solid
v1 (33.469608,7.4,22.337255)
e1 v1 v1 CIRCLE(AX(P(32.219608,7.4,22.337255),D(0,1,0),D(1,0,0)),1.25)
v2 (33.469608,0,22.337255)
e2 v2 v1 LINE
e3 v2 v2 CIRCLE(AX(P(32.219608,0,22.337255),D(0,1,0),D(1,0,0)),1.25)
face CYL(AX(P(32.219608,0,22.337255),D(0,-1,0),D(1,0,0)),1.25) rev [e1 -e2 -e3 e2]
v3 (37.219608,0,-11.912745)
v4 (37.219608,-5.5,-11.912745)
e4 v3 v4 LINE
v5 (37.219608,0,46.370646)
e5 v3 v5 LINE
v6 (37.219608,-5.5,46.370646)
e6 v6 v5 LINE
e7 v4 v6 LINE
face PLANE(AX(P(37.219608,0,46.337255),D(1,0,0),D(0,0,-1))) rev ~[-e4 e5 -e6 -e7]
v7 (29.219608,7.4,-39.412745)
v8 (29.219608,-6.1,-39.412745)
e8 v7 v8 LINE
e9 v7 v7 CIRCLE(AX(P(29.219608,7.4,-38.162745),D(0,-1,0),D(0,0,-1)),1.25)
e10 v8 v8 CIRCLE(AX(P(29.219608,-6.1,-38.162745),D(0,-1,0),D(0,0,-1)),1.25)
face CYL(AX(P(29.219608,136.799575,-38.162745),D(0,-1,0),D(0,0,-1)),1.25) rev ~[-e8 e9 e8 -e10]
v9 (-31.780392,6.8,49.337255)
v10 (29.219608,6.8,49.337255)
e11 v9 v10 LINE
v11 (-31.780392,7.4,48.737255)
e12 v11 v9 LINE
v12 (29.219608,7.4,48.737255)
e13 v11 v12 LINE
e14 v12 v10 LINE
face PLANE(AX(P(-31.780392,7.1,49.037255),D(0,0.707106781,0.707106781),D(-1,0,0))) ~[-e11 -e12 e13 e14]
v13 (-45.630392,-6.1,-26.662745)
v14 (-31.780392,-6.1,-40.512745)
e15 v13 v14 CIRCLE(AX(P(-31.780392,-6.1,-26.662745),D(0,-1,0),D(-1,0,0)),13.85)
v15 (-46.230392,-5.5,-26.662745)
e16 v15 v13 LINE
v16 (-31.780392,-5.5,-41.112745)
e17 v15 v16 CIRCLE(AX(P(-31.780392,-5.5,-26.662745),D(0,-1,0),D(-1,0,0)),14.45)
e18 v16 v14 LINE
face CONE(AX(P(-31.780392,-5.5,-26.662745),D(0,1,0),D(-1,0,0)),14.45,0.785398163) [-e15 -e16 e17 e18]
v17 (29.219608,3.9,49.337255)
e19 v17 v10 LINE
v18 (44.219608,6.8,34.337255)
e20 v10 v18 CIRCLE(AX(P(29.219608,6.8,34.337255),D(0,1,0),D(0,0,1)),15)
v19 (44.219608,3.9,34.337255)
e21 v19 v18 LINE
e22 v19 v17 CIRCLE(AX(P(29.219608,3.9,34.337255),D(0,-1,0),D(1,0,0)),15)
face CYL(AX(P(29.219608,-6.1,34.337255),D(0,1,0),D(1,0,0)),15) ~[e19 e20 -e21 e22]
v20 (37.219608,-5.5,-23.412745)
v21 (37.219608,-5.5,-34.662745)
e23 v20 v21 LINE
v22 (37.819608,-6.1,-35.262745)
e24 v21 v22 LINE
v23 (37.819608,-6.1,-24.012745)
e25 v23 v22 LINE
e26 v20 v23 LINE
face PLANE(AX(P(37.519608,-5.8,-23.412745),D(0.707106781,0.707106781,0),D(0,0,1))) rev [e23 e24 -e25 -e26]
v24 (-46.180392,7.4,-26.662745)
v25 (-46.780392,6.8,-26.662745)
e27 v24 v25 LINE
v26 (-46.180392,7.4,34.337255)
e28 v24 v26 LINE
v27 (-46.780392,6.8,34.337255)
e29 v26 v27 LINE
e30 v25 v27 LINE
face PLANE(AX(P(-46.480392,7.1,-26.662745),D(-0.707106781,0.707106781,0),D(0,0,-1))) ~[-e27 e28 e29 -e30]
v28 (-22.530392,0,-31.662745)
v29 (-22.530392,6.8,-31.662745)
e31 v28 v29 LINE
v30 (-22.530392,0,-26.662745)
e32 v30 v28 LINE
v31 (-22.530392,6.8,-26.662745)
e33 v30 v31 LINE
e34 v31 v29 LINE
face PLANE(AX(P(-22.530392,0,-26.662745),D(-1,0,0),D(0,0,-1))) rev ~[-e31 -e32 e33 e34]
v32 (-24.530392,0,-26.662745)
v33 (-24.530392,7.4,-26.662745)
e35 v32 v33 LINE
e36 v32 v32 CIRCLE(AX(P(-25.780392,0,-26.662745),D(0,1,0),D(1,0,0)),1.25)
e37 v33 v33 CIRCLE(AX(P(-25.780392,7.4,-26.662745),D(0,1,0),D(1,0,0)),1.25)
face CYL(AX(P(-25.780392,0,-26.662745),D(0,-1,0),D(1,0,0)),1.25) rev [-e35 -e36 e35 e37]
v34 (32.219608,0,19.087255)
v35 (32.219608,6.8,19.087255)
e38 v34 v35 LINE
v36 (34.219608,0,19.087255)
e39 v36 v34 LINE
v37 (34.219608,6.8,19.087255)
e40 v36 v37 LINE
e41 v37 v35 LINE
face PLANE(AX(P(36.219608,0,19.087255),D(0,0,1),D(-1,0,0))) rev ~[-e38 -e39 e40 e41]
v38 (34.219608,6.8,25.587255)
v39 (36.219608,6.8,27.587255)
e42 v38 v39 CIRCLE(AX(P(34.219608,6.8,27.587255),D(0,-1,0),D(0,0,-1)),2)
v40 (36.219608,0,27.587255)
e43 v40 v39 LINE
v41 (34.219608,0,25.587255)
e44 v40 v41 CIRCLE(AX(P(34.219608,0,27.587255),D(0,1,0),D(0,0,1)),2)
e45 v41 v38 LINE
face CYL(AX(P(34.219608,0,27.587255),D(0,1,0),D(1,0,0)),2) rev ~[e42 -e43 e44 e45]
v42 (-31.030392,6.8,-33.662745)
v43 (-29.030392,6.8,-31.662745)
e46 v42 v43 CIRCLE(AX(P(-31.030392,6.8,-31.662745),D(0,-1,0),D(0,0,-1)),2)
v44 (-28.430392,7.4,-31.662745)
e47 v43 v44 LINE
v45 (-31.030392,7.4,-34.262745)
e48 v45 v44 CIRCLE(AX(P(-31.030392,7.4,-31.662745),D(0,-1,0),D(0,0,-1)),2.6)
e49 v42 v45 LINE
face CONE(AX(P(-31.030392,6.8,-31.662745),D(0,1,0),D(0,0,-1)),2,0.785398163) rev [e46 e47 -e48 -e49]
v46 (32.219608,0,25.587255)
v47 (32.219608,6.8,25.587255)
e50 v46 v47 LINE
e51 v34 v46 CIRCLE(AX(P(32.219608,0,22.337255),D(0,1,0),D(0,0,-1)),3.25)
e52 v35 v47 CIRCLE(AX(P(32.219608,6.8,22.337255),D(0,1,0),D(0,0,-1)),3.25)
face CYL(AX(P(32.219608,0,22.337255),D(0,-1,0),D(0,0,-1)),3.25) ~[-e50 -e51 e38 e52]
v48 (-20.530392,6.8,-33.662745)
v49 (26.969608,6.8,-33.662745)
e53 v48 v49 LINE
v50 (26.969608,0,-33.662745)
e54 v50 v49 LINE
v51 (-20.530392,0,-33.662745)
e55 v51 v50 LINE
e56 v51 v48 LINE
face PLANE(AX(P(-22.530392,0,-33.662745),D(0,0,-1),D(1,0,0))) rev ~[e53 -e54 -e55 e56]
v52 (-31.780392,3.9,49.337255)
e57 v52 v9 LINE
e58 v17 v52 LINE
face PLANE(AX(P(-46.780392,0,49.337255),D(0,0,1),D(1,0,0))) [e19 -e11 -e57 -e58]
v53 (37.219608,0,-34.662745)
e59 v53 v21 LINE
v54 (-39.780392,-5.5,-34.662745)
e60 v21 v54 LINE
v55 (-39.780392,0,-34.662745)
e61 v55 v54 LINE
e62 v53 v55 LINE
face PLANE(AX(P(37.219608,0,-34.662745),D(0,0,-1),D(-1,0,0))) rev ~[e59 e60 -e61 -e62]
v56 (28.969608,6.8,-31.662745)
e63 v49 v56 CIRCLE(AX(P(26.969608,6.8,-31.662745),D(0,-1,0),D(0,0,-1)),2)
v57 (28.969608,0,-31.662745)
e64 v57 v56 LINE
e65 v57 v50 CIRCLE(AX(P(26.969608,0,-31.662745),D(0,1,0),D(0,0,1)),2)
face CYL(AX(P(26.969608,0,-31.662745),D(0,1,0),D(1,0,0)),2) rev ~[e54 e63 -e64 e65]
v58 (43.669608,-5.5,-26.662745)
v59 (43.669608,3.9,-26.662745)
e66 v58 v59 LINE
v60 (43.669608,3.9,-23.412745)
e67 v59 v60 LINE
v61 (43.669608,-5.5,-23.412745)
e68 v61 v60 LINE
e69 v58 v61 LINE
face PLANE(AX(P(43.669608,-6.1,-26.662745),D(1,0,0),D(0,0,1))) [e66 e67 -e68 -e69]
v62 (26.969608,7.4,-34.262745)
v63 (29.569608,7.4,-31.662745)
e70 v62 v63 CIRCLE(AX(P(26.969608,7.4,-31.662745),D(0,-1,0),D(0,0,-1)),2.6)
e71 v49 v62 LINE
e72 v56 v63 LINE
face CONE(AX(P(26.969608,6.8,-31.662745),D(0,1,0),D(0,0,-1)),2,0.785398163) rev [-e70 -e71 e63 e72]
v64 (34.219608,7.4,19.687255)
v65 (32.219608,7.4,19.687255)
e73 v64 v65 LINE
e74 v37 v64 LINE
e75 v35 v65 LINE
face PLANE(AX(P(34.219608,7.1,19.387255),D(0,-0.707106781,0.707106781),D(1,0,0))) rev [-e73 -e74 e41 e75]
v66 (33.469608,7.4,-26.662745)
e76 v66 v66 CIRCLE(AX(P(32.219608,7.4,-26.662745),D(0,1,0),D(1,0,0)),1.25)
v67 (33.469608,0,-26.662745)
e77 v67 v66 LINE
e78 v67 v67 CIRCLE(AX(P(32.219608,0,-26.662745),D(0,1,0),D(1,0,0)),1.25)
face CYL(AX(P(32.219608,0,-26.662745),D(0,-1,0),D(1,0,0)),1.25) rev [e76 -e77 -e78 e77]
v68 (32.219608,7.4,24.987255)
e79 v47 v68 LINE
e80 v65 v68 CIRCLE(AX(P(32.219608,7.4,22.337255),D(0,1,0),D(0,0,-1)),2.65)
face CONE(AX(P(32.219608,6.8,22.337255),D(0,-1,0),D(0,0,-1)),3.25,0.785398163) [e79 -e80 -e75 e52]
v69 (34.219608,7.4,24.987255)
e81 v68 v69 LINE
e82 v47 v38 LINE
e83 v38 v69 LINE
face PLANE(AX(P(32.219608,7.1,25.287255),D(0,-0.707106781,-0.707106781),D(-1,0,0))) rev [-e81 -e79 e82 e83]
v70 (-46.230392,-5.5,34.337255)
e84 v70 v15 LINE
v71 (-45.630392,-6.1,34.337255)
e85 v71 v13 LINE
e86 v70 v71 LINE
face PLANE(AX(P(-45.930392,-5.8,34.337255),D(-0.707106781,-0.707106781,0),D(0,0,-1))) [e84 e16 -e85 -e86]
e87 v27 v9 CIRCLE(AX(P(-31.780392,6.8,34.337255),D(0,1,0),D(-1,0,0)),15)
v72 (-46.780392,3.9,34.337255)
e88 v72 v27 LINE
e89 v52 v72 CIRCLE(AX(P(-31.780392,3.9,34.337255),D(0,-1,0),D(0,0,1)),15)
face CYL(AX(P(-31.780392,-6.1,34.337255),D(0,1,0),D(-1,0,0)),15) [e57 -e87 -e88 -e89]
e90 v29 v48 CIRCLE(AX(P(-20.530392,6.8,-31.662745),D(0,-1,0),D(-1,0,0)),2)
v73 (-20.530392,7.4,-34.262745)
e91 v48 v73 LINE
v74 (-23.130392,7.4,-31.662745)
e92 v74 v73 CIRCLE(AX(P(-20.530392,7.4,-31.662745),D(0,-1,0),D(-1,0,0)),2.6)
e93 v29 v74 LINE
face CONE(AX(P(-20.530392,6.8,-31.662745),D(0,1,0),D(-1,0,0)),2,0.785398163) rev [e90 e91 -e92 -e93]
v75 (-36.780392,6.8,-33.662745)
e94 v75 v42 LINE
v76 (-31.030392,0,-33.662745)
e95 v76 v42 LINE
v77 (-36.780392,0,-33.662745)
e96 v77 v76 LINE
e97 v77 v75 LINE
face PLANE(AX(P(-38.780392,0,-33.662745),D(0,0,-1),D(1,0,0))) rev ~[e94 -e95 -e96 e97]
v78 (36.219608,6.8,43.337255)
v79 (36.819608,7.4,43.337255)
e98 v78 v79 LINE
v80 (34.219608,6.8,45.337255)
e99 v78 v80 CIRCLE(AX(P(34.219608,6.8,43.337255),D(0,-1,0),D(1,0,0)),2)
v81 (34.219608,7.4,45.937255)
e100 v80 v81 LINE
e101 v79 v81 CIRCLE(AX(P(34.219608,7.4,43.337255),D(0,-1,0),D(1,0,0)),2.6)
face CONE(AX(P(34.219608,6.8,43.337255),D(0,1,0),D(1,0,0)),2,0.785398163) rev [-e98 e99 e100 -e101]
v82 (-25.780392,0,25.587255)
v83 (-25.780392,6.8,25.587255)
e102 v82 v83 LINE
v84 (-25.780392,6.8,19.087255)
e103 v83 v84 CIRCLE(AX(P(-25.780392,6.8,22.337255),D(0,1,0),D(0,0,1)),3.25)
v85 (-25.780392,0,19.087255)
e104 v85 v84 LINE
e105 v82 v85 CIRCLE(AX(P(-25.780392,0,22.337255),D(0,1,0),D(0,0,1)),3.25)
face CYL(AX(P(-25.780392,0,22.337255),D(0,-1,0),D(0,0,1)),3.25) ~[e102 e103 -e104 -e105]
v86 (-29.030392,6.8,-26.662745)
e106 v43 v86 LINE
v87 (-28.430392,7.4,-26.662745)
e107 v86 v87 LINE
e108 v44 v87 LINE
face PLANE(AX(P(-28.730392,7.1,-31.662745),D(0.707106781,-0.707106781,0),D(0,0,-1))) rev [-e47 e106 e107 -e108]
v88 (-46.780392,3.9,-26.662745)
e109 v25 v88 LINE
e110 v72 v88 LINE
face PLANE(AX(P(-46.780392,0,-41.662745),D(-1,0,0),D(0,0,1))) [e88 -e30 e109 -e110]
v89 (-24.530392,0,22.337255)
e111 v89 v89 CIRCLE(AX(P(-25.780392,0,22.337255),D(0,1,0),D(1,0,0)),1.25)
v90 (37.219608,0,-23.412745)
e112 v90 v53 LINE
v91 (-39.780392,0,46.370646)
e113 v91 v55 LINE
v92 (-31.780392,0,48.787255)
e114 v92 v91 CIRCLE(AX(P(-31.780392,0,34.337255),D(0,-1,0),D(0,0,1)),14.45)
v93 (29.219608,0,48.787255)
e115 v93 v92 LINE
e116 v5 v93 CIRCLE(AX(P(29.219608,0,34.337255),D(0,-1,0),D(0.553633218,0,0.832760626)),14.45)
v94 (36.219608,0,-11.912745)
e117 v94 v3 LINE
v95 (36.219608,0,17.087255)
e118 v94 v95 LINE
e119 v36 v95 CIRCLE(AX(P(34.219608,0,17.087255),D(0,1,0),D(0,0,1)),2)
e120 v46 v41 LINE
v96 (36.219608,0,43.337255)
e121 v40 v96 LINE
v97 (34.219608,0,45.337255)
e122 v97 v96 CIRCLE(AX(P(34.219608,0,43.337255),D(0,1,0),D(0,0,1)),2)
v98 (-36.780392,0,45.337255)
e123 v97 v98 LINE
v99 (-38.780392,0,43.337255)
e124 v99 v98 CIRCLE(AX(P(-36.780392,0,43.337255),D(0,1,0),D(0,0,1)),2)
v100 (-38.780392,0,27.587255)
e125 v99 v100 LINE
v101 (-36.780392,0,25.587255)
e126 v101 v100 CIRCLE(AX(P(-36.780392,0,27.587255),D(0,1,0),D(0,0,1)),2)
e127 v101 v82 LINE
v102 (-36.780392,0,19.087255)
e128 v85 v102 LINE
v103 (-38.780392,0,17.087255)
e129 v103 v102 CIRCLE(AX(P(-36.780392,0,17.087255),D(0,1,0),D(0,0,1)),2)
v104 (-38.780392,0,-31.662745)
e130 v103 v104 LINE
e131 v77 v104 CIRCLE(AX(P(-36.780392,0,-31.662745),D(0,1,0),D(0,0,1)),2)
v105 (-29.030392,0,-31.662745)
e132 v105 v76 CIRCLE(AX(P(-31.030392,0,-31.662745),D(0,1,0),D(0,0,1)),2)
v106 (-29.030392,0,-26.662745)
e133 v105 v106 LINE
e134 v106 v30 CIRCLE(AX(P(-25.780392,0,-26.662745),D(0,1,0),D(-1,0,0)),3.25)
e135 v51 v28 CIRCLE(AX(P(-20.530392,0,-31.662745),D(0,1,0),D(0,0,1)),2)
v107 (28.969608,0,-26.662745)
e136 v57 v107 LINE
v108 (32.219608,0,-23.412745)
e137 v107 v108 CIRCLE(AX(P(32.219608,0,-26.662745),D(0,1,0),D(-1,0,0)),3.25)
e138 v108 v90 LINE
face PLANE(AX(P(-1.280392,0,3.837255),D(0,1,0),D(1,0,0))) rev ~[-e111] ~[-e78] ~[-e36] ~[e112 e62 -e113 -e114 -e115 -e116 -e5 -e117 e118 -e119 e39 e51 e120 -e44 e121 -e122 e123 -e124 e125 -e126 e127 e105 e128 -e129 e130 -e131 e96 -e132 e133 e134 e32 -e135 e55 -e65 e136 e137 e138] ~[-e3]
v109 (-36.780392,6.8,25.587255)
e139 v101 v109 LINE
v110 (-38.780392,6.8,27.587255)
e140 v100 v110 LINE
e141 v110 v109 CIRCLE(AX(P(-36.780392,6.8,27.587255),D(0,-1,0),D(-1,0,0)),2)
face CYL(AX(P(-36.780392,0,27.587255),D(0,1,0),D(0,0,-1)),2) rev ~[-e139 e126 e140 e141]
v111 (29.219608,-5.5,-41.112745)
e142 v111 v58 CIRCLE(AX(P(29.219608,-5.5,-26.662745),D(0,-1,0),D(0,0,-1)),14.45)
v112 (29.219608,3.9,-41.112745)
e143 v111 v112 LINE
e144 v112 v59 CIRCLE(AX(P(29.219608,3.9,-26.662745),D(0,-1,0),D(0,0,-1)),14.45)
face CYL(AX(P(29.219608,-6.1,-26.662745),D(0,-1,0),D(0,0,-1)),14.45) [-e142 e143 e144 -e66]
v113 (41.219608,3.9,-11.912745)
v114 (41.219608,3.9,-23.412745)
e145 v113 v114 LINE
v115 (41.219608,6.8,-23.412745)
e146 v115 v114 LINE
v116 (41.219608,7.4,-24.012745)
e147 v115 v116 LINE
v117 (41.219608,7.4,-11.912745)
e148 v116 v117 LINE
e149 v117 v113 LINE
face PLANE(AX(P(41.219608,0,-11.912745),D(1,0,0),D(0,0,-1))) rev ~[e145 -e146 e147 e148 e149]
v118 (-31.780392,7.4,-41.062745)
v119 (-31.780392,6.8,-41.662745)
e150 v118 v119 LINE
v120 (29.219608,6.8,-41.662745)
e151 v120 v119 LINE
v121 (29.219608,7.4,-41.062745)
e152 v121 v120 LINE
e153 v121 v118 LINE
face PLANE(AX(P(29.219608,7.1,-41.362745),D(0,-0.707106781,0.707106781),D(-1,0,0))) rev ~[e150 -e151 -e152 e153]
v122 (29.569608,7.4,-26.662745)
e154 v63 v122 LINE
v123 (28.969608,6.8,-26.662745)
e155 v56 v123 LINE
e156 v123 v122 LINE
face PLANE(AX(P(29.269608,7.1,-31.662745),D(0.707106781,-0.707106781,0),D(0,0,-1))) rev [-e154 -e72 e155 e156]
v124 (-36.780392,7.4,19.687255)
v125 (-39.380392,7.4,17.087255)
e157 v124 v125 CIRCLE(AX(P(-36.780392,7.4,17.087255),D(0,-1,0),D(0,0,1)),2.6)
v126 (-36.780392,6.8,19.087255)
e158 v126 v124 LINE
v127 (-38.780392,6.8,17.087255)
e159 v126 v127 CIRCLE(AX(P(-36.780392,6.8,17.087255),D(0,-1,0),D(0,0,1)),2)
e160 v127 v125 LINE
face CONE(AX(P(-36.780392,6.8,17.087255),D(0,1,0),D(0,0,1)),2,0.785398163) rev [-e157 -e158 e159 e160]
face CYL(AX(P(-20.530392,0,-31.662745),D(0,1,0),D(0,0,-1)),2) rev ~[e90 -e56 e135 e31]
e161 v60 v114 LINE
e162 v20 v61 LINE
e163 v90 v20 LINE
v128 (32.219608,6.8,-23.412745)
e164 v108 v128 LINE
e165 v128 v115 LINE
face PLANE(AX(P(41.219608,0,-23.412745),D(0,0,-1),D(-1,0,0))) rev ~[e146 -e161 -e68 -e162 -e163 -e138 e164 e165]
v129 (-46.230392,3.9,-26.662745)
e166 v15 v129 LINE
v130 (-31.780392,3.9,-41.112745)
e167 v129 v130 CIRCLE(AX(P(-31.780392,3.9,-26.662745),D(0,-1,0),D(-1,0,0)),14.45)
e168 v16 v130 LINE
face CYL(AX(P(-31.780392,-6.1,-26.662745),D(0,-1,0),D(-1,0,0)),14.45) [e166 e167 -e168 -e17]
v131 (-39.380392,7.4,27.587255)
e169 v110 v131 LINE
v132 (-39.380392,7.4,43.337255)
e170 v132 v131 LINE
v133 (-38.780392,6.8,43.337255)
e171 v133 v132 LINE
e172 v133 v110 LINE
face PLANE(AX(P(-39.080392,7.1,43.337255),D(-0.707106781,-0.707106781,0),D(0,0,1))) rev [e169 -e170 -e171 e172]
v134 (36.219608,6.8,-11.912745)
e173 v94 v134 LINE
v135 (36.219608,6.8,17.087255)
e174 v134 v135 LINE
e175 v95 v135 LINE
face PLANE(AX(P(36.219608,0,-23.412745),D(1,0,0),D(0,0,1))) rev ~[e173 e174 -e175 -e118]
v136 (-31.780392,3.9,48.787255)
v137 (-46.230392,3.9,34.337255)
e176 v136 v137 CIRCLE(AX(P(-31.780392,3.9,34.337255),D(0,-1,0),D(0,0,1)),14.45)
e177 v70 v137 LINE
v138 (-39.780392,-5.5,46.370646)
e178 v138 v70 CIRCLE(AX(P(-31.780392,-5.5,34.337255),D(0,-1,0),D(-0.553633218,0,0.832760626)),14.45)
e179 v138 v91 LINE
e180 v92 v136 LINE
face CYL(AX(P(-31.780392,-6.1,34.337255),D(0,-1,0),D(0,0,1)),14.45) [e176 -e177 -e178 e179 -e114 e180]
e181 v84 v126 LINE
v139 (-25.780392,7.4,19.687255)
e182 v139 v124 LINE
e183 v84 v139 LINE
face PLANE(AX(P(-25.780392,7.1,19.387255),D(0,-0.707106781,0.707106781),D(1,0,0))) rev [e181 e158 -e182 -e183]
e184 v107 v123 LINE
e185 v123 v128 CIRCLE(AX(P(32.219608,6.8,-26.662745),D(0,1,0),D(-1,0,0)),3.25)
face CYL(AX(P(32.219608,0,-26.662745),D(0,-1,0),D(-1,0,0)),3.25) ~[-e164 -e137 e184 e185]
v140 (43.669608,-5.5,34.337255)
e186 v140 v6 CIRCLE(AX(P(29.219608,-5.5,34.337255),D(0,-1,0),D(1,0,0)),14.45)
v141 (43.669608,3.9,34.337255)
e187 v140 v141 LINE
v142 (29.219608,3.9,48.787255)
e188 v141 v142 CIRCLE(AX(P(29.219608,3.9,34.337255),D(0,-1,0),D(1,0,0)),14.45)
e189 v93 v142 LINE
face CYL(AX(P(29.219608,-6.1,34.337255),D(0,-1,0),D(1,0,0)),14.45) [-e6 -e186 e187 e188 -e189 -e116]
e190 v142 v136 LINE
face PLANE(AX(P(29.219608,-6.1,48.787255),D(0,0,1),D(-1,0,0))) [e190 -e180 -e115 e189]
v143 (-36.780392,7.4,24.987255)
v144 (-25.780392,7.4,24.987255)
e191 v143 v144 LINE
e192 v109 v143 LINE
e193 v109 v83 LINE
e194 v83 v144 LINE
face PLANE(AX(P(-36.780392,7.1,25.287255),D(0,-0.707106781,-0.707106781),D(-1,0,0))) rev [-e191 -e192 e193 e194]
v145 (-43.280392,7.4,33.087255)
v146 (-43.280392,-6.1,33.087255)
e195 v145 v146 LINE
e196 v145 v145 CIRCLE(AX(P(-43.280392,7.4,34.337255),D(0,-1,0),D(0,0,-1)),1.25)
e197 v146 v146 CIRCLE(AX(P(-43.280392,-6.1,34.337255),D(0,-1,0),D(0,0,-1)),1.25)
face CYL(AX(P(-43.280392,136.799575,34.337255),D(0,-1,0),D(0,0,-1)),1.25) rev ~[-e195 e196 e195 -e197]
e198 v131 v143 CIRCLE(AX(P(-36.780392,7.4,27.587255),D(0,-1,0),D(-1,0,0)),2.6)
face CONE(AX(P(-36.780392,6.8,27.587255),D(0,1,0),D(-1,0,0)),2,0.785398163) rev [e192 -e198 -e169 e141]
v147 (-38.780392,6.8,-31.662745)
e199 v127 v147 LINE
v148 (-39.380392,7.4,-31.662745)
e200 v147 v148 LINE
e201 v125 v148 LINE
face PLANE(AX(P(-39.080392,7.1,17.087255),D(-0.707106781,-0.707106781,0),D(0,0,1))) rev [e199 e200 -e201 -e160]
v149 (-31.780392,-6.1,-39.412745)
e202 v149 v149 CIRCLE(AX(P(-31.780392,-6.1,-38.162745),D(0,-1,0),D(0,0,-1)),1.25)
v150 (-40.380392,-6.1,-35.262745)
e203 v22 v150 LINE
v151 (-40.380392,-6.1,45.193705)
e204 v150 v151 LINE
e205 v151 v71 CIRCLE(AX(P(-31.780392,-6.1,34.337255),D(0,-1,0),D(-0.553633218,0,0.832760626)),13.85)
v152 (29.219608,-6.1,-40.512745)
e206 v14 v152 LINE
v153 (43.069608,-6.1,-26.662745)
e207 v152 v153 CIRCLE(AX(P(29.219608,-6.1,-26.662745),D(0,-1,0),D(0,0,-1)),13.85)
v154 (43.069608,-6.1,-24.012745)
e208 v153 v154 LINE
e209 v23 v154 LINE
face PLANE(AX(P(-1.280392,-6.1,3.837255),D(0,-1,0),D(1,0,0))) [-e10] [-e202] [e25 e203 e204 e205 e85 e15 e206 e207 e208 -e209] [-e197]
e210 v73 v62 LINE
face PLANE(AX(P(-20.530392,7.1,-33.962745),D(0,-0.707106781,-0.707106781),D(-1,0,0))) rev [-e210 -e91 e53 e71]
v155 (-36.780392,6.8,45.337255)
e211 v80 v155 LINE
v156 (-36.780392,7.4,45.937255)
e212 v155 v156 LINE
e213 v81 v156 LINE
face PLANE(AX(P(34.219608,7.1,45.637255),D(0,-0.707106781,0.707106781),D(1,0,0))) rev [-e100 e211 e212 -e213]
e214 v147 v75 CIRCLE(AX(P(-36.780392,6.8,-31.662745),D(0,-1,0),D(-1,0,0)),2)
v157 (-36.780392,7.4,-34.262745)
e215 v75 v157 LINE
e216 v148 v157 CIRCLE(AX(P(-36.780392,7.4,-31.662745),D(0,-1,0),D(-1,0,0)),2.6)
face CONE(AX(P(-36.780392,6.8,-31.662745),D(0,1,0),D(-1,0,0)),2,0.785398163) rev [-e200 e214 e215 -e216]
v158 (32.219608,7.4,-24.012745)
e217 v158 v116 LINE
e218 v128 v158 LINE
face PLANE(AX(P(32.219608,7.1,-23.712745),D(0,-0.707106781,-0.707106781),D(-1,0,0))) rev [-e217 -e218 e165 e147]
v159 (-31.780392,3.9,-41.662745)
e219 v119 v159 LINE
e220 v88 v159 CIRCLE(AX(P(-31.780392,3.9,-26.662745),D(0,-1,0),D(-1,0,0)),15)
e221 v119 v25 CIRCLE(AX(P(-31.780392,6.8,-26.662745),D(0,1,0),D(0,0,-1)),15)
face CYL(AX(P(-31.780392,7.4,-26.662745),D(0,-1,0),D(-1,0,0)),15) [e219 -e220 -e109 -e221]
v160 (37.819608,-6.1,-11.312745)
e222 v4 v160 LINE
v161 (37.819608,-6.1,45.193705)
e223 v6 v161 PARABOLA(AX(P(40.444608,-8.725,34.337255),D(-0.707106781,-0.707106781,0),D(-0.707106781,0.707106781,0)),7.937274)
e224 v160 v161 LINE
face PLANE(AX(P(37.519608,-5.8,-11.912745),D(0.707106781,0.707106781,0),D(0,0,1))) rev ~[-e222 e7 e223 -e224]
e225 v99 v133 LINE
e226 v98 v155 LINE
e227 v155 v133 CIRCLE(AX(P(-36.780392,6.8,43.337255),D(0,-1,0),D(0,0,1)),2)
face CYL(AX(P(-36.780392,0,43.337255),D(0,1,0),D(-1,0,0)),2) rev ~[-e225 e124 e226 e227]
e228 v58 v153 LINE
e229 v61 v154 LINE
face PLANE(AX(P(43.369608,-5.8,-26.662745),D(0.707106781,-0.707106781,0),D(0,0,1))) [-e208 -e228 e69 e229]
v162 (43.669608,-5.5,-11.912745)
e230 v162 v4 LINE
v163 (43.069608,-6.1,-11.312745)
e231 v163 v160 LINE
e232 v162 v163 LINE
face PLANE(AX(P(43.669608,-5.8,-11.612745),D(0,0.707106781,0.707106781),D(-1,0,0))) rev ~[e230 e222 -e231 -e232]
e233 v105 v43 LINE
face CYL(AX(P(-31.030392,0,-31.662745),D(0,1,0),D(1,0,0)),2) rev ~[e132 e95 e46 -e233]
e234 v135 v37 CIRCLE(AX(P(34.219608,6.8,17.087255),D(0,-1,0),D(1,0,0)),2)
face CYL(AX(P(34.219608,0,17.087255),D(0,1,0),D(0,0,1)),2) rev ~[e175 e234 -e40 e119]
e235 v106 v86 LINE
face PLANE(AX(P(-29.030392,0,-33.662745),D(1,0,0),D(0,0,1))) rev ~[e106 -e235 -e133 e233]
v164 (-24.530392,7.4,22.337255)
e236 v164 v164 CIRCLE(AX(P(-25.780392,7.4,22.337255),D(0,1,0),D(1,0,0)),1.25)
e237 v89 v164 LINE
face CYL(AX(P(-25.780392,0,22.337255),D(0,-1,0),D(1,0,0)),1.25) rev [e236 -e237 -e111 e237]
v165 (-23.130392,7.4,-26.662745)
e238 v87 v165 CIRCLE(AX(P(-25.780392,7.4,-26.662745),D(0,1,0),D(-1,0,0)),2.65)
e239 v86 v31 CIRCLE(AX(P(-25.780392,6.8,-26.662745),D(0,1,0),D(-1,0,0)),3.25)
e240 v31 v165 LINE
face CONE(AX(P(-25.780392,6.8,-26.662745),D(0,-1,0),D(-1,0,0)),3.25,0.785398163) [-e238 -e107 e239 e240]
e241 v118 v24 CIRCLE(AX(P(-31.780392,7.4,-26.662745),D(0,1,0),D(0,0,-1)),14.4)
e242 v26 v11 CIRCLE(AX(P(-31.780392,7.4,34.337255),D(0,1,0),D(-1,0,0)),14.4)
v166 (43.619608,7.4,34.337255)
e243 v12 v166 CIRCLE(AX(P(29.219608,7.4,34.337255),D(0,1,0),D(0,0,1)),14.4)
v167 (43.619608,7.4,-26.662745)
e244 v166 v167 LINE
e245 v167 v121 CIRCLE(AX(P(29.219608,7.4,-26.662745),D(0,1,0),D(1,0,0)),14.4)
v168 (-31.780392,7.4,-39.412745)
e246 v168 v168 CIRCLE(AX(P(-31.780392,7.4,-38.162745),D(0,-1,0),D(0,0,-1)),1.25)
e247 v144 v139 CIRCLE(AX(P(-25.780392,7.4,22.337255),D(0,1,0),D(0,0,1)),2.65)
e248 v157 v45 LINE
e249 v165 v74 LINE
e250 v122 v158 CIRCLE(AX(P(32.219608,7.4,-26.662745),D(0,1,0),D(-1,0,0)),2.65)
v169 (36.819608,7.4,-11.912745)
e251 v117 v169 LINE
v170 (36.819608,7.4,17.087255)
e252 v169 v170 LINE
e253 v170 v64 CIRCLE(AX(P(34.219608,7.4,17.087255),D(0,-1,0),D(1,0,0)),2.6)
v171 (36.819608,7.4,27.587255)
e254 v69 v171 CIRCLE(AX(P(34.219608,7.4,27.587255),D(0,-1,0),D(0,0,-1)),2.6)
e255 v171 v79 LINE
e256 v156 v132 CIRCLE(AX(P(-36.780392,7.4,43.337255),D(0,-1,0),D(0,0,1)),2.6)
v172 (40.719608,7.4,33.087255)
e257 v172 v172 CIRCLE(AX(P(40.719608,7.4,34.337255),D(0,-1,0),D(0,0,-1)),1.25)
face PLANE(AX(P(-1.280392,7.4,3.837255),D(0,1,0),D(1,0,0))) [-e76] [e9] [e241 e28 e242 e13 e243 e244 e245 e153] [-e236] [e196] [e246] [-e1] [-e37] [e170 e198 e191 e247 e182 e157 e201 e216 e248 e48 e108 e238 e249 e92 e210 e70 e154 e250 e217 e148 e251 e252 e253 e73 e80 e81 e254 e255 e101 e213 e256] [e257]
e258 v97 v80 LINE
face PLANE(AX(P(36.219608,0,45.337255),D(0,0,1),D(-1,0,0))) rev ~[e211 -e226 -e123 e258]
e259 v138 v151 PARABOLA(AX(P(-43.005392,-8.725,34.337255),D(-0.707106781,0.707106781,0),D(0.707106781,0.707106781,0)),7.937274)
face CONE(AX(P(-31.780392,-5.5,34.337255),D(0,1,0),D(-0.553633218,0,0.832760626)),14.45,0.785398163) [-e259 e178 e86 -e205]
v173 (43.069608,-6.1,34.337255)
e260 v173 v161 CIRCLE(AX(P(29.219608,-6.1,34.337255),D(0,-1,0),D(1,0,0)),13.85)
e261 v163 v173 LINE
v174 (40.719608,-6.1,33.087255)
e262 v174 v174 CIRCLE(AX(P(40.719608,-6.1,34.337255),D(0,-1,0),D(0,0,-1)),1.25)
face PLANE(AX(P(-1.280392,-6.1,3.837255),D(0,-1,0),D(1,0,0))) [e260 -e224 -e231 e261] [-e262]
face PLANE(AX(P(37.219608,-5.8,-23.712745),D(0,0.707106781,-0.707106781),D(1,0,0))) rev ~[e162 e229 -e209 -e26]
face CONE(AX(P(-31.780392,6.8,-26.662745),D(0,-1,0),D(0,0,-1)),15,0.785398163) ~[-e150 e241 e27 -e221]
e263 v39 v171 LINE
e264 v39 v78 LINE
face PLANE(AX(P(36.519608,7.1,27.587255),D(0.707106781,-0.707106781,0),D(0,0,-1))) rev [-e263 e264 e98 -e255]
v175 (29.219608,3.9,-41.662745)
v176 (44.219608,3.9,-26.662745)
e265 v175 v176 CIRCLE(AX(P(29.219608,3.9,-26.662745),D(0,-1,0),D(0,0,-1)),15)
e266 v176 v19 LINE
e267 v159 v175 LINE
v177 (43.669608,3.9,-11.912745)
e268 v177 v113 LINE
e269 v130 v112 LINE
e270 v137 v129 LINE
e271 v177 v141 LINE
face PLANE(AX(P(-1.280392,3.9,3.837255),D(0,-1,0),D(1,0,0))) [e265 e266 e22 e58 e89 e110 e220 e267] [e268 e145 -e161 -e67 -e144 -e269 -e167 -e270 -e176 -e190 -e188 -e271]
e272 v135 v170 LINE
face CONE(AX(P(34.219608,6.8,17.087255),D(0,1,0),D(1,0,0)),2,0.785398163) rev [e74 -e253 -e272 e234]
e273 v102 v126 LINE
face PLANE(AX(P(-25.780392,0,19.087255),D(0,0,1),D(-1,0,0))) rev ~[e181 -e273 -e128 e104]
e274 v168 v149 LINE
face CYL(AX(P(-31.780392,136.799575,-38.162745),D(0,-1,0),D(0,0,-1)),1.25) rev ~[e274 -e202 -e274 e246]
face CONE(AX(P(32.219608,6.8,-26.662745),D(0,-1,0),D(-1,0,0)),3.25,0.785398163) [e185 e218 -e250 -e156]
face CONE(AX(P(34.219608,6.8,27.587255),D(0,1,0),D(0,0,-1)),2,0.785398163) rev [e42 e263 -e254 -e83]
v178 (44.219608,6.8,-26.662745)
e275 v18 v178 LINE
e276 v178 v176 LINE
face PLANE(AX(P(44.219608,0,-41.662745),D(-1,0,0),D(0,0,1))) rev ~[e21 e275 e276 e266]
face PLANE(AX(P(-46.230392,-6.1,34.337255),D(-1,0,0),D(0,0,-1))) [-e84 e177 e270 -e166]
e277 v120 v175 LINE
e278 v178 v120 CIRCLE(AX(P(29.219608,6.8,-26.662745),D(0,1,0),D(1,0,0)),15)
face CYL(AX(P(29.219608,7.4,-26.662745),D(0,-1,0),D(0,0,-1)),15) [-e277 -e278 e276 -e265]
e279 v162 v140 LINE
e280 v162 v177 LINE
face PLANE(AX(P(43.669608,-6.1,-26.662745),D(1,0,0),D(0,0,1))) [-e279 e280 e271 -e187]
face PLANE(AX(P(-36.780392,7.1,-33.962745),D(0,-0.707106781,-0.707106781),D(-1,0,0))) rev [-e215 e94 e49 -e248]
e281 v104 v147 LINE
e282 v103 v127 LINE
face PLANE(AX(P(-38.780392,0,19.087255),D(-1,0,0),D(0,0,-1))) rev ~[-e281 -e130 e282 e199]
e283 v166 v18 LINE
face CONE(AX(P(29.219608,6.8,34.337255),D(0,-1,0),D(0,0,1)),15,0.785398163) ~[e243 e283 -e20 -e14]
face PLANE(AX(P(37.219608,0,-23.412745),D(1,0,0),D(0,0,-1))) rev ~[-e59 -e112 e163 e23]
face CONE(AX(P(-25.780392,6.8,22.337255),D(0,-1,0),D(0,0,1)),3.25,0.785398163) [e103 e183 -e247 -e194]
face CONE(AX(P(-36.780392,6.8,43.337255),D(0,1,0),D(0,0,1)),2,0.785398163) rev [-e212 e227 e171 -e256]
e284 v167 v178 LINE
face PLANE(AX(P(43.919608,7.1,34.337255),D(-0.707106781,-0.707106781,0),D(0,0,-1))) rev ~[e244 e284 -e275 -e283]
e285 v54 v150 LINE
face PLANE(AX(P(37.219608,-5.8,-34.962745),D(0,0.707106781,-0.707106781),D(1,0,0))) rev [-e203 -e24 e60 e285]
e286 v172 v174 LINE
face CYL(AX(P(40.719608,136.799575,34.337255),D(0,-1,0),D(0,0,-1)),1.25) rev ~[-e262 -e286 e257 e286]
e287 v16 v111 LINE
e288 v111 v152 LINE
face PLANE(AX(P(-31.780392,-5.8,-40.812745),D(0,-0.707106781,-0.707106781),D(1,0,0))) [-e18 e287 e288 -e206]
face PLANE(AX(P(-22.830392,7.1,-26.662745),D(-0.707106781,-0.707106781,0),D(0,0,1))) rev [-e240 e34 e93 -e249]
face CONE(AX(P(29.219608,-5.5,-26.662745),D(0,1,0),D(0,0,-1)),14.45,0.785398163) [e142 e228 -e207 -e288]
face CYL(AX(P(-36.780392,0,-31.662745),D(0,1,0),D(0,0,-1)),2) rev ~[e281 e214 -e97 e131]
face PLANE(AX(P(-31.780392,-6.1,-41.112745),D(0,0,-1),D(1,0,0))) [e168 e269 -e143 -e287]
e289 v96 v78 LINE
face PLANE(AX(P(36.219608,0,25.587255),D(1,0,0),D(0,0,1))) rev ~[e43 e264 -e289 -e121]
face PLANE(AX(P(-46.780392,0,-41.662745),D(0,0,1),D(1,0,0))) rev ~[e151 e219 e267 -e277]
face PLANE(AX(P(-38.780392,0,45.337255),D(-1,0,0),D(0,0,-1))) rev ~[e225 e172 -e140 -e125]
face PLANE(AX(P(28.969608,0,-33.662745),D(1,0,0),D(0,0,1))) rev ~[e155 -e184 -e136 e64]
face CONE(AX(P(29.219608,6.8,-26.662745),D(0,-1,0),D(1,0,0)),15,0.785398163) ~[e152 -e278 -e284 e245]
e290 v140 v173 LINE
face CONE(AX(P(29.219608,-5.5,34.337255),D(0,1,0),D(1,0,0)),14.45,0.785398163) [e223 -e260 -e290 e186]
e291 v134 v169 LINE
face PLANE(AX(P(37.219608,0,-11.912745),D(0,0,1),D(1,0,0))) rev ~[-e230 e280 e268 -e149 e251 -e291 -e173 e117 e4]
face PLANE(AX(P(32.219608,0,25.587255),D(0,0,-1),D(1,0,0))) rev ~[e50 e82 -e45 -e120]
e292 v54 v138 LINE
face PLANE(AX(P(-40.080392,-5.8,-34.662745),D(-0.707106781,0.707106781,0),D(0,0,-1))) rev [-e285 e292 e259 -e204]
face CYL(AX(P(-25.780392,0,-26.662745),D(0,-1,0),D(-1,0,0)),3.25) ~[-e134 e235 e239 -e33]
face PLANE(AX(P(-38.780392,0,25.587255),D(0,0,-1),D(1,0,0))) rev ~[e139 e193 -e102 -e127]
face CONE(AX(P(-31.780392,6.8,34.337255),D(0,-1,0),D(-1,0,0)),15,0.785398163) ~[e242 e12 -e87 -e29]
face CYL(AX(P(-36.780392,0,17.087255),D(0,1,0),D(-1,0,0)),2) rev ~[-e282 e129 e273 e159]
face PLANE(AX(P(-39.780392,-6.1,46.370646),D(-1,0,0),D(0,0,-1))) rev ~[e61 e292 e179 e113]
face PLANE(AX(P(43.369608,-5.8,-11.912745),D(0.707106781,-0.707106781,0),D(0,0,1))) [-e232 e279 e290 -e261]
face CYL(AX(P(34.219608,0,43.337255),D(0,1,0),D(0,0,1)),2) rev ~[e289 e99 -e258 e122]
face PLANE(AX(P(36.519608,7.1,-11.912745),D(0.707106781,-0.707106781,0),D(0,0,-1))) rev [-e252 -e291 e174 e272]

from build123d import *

# Parameters (mm, degrees)
SKETCH1_W                   = 91
SKETCH1_H                   = 91
SKETCH1_R                   = 1.25
BOSS_EXTRUDE1_DEPTH         = 7.4
SKETCH3_W                   = 5
SKETCH3_H                   = 11.5
CUT_EXTRUDE1_DEPTH          = 8.4
SKETCH4_W                   = 91
SKETCH4_H                   = 91
BOSS_EXTRUDE2_DEPTH         = 6.1
FILLET1_R                   = 15
CUT_EXTRUDE2_DEPTH          = 10
SKETCH9_W                   = 11.5
SKETCH9_H                   = 10
CUT_EXTRUDE3_DEPTH          = 10
CUT_EXTRUDE4_DEPTH          = 6.1
FILLET2_R                   = 2
TAP_DRILL_FOR_M3X0_5_TAP1_D = 2.5
CHAMFER1_SIZE               = 0.6


with BuildPart() as part:
    # Sketch1 → Boss-Extrude1 (new body)
    with BuildSketch(Plane(origin=(0, 0, 0), x_dir=(1, 0, 0), z_dir=(0, 1, 0))):
        with Locations((-1.280392157, -3.837254902)):
            Rectangle(SKETCH1_W, SKETCH1_H)
        with BuildLine():
            Line((28.969607843, 33.662745098), (28.969607843, 26.662745098))
            ThreePointArc((28.969607843, 26.662745098), (29.921510804, 24.364648059), (32.219607843, 23.412745098))
            Line((32.219607843, 23.412745098), (36.219607843, 23.412745098))
            Line((36.219607843, 23.412745098), (36.219607843, -19.087254902))
            Line((36.219607843, -19.087254902), (32.219607843, -19.087254902))
            ThreePointArc((32.219607843, -19.087254902), (28.969607843, -22.337254902), (32.219607843, -25.587254902))
            Line((32.219607843, -25.587254902), (36.219607843, -25.587254902))
            Line((36.219607843, -25.587254902), (36.219607843, -45.337254902))
            Line((36.219607843, -45.337254902), (-38.780392157, -45.337254902))
            Line((-38.780392157, -45.337254902), (-38.780392157, -25.587254902))
            Line((-38.780392157, -25.587254902), (-25.780392157, -25.587254902))
            ThreePointArc((-25.780392157, -25.587254902), (-22.530392157, -22.337254902), (-25.780392157, -19.087254902))
            Line((-25.780392157, -19.087254902), (-38.780392157, -19.087254902))
            Line((-38.780392157, -19.087254902), (-38.780392157, 33.662745098))
            Line((-38.780392157, 33.662745098), (-29.030392157, 33.662745098))
            Line((-29.030392157, 33.662745098), (-29.030392157, 26.662745098))
            ThreePointArc((-29.030392157, 26.662745098), (-25.780392157, 23.412745098), (-22.530392157, 26.662745098))
            Line((-22.530392157, 26.662745098), (-22.530392157, 33.662745098))
            Line((-22.530392157, 33.662745098), (28.969607843, 33.662745098))
        make_face(mode=Mode.SUBTRACT)
        with Locations((32.219607843, 26.662745098)):
            Circle(SKETCH1_R, mode=Mode.SUBTRACT)
        with Locations((-25.780392157, 26.662745098)):
            Circle(SKETCH1_R, mode=Mode.SUBTRACT)
        with Locations((32.219607843, -22.337254902)):
            Circle(SKETCH1_R, mode=Mode.SUBTRACT)
        with Locations((-25.780392157, -22.337254902)):
            Circle(SKETCH1_R, mode=Mode.SUBTRACT)
    extrude(amount=BOSS_EXTRUDE1_DEPTH)

    # Sketch3 → Cut-Extrude1 (cut, through all)
    with BuildSketch(Plane.XZ):
        with Locations((38.719607843, -17.662745098)):
            Rectangle(SKETCH3_W, SKETCH3_H)
    extrude(amount=-CUT_EXTRUDE1_DEPTH, mode=Mode.SUBTRACT)

    # Sketch4 → Boss-Extrude2 (add)
    with BuildSketch(Plane.XZ):
        with Locations((-1.280392157, 3.837254902)):
            Rectangle(SKETCH4_W, SKETCH4_H)
        Polygon((37.219607843, 45.337254902), (37.219607843, -11.912745098), (41.219607843, -11.912745098), (41.219607843, -23.412745098), (37.219607843, -23.412745098), (37.219607843, -33.662745098), (37.219607843, -34.662745098), (36.219607843, -34.662745098), (-39.780392157, -34.662745098), (-39.780392157, 25.587254902), (-39.780392157, 45.337254902), (-39.780392157, 46.337254902), (-38.780392157, 46.337254902), (36.219607843, 46.337254902), (37.219607843, 46.337254902), align=None, mode=Mode.SUBTRACT)
    extrude(amount=BOSS_EXTRUDE2_DEPTH)

    # Fillet1
    fillet1_edges = [part.edges().sort_by_distance(p)[0] for p in [
        (-46.780392157, 0.65, 49.337254902),
        (-46.780392157, 0.65, -41.662745098),
        (44.219607843, 0.65, -41.662745098),
        (44.219607843, 0.65, 49.337254902),
    ]]
    fillet(fillet1_edges, radius=FILLET1_R)

    # Sketch8 → Cut-Extrude2 (cut)
    with BuildSketch(Plane.XZ.offset(6.1)):
        with BuildLine():
            Line((29.219607843, 49.337254902), (-31.780392157, 49.337254902))
            ThreePointArc((-31.780392157, 49.337254902), (-42.386993875, 44.94385662), (-46.780392157, 34.337254902))
            Line((-46.780392157, 34.337254902), (-46.780392157, -26.662745098))
            ThreePointArc((-46.780392157, -26.662745098), (-42.386993875, -37.269346816), (-31.780392157, -41.662745098))
            Line((-31.780392157, -41.662745098), (29.219607843, -41.662745098))
            ThreePointArc((29.219607843, -41.662745098), (39.826209561, -37.269346816), (44.219607843, -26.662745098))
            Line((44.219607843, -26.662745098), (44.219607843, 34.337254902))
            ThreePointArc((44.219607843, 34.337254902), (39.826209561, 44.94385662), (29.219607843, 49.337254902))
        make_face()
        with BuildLine():
            Line((29.219607843, 48.787254902), (-31.780392157, 48.787254902))
            ThreePointArc((-31.780392157, 48.787254902), (-41.998085145, 44.55494789), (-46.230392157, 34.337254902))
            Line((-46.230392157, 34.337254902), (-46.230392157, -26.662745098))
            ThreePointArc((-46.230392157, -26.662745098), (-41.998085145, -36.880438086), (-31.780392157, -41.112745098))
            Line((-31.780392157, -41.112745098), (29.219607843, -41.112745098))
            ThreePointArc((29.219607843, -41.112745098), (39.437300831, -36.880438086), (43.669607843, -26.662745098))
            Line((43.669607843, -26.662745098), (43.669607843, 34.337254902))
            ThreePointArc((43.669607843, 34.337254902), (39.437300831, 44.55494789), (29.219607843, 48.787254902))
        make_face(mode=Mode.SUBTRACT)
    extrude(amount=-CUT_EXTRUDE2_DEPTH, mode=Mode.SUBTRACT)

    # Sketch9 → Cut-Extrude3 (cut)
    with BuildSketch(Plane(origin=(43.669607843, 0, 0), x_dir=(0, 0, -1), z_dir=(1, 0, 0))):
        with Locations((17.662745098, -1.1)):
            Rectangle(SKETCH9_W, SKETCH9_H)
    extrude(amount=-CUT_EXTRUDE3_DEPTH, mode=Mode.SUBTRACT)

    # Sketch10 → Cut-Extrude4 (cut)
    with BuildSketch(Plane.XZ.offset(6.1)):
        with BuildLine():
            Line((-39.780392157, 46.337254902), (37.219607843, 46.337254902))
            Line((37.219607843, 46.337254902), (37.219607843, 46.370645945))
            ThreePointArc((37.219607843, 46.370645945), (33.398124292, 48.169915539), (29.219607843, 48.787254902))
            Line((29.219607843, 48.787254902), (-31.780392157, 48.787254902))
            ThreePointArc((-31.780392157, 48.787254902), (-35.958908606, 48.169915539), (-39.780392157, 46.370645945))
            Line((-39.780392157, 46.370645945), (-39.780392157, 46.337254902))
        make_face()
    extrude(amount=-CUT_EXTRUDE4_DEPTH, mode=Mode.SUBTRACT)

    # Fillet2
    fillet2_edges = [part.edges().sort_by_distance(p)[0] for p in [
        (-29.030392157, 3.7, -33.662745098),
        (-38.780392157, 3.7, -33.662745098),
        (-38.780392157, 3.7, 19.087254902),
        (-38.780392157, 3.7, 25.587254902),
        (-38.780392157, 3.7, 45.337254902),
        (36.219607843, 3.7, 45.337254902),
        (36.219607843, 3.7, 25.587254902),
        (36.219607843, 3.7, 19.087254902),
        (28.969607843, 3.7, -33.662745098),
        (-22.530392157, 3.7, -33.662745098),
    ]]
    fillet(fillet2_edges, radius=FILLET2_R)

    # Tap Drill for M3x0.5 Tap1 (through all)
    with Locations(Plane(origin=(-31.780392157, 7.4, -38.162745098), x_dir=(0, 0, 1), z_dir=(0, 1, 0))):
        with Locations((0, 0), (0, 61), (72.5, -11.5), (72.5, 72.5)):
            Hole(TAP_DRILL_FOR_M3X0_5_TAP1_D / 2)

    # Chamfer1
    chamfer1_edges = [part.edges().sort_by_distance(p)[0] for p in [
        (-29.030392157, 7.4, -29.162745098),
        (37.219607843, -6.1, 17.228950424),
        (37.219607843, -6.1, -29.037745098),
        (40.444607843, -6.1, -11.912745098),
        (40.444607843, -6.1, -23.412745098),
        (-1.280392157, -6.1, -34.662745098),
        (-39.780392157, -6.1, 5.853950424),
        (-1.280392157, 7.4, 49.337254902),
        (-46.780392157, 7.4, 3.837254902),
        (44.219607843, 7.4, 3.837254902),
        (-1.280392157, 7.4, -41.662745098),
        (-42.386993875, 7.4, -37.269346816),
        (39.826209561, 7.4, -37.269346816),
        (39.826209561, 7.4, 44.94385662),
        (-42.386993875, 7.4, 44.94385662),
        (-25.780392157, 7.4, -23.412745098),
        (41.955433297, -6.1, 41.163765724),
        (43.669607843, -6.1, -25.037745098),
        (39.437300831, -6.1, -36.880438086),
        (-1.280392157, -6.1, -41.112745098),
        (-41.998085145, -6.1, -36.880438086),
        (-46.230392157, -6.1, 3.837254902),
        (-22.530392157, 7.4, -29.162745098),
        (43.669607843, -6.1, 11.212254902),
        (-44.516217611, -6.1, 41.163765724),
        (-38.780392157, 7.4, -7.287745098),
        (-38.780392157, 7.4, 35.462254902),
        (36.219607843, 7.4, 35.462254902),
        (-33.905392157, 7.4, -33.662745098),
        (3.219607843, 7.4, -33.662745098),
        (-1.280392157, 7.4, 45.337254902),
        (-38.194605719, 7.4, 18.501468464),
        (-38.194605719, 7.4, 26.17304134),
        (35.633821406, 7.4, 26.17304134),
        (28.969607843, 7.4, -29.162745098),
        (35.633821406, 7.4, 18.501468464),
        (-38.194605719, 7.4, -33.07695866),
        (-29.616178594, 7.4, -33.07695866),
        (-21.944605719, 7.4, -33.07695866),
        (28.383821406, 7.4, -33.07695866),
        (-38.194605719, 7.4, 44.751468464),
        (35.633821406, 7.4, 44.751468464),
        (29.921510804, 7.4, -24.364648059),
        (36.719607843, 7.4, -23.412745098),
        (33.219607843, 7.4, 19.087254902),
        (28.969607843, 7.4, 22.337254902),
        (33.219607843, 7.4, 25.587254902),
        (-31.280392157, 7.4, 25.587254902),
        (-22.530392157, 7.4, 22.337254902),
        (36.219607843, 7.4, 2.587254902),
        (-31.280392157, 7.4, 19.087254902),
    ]]
    chamfer(chamfer1_edges, length=CHAMFER1_SIZE)


solid = part.part
